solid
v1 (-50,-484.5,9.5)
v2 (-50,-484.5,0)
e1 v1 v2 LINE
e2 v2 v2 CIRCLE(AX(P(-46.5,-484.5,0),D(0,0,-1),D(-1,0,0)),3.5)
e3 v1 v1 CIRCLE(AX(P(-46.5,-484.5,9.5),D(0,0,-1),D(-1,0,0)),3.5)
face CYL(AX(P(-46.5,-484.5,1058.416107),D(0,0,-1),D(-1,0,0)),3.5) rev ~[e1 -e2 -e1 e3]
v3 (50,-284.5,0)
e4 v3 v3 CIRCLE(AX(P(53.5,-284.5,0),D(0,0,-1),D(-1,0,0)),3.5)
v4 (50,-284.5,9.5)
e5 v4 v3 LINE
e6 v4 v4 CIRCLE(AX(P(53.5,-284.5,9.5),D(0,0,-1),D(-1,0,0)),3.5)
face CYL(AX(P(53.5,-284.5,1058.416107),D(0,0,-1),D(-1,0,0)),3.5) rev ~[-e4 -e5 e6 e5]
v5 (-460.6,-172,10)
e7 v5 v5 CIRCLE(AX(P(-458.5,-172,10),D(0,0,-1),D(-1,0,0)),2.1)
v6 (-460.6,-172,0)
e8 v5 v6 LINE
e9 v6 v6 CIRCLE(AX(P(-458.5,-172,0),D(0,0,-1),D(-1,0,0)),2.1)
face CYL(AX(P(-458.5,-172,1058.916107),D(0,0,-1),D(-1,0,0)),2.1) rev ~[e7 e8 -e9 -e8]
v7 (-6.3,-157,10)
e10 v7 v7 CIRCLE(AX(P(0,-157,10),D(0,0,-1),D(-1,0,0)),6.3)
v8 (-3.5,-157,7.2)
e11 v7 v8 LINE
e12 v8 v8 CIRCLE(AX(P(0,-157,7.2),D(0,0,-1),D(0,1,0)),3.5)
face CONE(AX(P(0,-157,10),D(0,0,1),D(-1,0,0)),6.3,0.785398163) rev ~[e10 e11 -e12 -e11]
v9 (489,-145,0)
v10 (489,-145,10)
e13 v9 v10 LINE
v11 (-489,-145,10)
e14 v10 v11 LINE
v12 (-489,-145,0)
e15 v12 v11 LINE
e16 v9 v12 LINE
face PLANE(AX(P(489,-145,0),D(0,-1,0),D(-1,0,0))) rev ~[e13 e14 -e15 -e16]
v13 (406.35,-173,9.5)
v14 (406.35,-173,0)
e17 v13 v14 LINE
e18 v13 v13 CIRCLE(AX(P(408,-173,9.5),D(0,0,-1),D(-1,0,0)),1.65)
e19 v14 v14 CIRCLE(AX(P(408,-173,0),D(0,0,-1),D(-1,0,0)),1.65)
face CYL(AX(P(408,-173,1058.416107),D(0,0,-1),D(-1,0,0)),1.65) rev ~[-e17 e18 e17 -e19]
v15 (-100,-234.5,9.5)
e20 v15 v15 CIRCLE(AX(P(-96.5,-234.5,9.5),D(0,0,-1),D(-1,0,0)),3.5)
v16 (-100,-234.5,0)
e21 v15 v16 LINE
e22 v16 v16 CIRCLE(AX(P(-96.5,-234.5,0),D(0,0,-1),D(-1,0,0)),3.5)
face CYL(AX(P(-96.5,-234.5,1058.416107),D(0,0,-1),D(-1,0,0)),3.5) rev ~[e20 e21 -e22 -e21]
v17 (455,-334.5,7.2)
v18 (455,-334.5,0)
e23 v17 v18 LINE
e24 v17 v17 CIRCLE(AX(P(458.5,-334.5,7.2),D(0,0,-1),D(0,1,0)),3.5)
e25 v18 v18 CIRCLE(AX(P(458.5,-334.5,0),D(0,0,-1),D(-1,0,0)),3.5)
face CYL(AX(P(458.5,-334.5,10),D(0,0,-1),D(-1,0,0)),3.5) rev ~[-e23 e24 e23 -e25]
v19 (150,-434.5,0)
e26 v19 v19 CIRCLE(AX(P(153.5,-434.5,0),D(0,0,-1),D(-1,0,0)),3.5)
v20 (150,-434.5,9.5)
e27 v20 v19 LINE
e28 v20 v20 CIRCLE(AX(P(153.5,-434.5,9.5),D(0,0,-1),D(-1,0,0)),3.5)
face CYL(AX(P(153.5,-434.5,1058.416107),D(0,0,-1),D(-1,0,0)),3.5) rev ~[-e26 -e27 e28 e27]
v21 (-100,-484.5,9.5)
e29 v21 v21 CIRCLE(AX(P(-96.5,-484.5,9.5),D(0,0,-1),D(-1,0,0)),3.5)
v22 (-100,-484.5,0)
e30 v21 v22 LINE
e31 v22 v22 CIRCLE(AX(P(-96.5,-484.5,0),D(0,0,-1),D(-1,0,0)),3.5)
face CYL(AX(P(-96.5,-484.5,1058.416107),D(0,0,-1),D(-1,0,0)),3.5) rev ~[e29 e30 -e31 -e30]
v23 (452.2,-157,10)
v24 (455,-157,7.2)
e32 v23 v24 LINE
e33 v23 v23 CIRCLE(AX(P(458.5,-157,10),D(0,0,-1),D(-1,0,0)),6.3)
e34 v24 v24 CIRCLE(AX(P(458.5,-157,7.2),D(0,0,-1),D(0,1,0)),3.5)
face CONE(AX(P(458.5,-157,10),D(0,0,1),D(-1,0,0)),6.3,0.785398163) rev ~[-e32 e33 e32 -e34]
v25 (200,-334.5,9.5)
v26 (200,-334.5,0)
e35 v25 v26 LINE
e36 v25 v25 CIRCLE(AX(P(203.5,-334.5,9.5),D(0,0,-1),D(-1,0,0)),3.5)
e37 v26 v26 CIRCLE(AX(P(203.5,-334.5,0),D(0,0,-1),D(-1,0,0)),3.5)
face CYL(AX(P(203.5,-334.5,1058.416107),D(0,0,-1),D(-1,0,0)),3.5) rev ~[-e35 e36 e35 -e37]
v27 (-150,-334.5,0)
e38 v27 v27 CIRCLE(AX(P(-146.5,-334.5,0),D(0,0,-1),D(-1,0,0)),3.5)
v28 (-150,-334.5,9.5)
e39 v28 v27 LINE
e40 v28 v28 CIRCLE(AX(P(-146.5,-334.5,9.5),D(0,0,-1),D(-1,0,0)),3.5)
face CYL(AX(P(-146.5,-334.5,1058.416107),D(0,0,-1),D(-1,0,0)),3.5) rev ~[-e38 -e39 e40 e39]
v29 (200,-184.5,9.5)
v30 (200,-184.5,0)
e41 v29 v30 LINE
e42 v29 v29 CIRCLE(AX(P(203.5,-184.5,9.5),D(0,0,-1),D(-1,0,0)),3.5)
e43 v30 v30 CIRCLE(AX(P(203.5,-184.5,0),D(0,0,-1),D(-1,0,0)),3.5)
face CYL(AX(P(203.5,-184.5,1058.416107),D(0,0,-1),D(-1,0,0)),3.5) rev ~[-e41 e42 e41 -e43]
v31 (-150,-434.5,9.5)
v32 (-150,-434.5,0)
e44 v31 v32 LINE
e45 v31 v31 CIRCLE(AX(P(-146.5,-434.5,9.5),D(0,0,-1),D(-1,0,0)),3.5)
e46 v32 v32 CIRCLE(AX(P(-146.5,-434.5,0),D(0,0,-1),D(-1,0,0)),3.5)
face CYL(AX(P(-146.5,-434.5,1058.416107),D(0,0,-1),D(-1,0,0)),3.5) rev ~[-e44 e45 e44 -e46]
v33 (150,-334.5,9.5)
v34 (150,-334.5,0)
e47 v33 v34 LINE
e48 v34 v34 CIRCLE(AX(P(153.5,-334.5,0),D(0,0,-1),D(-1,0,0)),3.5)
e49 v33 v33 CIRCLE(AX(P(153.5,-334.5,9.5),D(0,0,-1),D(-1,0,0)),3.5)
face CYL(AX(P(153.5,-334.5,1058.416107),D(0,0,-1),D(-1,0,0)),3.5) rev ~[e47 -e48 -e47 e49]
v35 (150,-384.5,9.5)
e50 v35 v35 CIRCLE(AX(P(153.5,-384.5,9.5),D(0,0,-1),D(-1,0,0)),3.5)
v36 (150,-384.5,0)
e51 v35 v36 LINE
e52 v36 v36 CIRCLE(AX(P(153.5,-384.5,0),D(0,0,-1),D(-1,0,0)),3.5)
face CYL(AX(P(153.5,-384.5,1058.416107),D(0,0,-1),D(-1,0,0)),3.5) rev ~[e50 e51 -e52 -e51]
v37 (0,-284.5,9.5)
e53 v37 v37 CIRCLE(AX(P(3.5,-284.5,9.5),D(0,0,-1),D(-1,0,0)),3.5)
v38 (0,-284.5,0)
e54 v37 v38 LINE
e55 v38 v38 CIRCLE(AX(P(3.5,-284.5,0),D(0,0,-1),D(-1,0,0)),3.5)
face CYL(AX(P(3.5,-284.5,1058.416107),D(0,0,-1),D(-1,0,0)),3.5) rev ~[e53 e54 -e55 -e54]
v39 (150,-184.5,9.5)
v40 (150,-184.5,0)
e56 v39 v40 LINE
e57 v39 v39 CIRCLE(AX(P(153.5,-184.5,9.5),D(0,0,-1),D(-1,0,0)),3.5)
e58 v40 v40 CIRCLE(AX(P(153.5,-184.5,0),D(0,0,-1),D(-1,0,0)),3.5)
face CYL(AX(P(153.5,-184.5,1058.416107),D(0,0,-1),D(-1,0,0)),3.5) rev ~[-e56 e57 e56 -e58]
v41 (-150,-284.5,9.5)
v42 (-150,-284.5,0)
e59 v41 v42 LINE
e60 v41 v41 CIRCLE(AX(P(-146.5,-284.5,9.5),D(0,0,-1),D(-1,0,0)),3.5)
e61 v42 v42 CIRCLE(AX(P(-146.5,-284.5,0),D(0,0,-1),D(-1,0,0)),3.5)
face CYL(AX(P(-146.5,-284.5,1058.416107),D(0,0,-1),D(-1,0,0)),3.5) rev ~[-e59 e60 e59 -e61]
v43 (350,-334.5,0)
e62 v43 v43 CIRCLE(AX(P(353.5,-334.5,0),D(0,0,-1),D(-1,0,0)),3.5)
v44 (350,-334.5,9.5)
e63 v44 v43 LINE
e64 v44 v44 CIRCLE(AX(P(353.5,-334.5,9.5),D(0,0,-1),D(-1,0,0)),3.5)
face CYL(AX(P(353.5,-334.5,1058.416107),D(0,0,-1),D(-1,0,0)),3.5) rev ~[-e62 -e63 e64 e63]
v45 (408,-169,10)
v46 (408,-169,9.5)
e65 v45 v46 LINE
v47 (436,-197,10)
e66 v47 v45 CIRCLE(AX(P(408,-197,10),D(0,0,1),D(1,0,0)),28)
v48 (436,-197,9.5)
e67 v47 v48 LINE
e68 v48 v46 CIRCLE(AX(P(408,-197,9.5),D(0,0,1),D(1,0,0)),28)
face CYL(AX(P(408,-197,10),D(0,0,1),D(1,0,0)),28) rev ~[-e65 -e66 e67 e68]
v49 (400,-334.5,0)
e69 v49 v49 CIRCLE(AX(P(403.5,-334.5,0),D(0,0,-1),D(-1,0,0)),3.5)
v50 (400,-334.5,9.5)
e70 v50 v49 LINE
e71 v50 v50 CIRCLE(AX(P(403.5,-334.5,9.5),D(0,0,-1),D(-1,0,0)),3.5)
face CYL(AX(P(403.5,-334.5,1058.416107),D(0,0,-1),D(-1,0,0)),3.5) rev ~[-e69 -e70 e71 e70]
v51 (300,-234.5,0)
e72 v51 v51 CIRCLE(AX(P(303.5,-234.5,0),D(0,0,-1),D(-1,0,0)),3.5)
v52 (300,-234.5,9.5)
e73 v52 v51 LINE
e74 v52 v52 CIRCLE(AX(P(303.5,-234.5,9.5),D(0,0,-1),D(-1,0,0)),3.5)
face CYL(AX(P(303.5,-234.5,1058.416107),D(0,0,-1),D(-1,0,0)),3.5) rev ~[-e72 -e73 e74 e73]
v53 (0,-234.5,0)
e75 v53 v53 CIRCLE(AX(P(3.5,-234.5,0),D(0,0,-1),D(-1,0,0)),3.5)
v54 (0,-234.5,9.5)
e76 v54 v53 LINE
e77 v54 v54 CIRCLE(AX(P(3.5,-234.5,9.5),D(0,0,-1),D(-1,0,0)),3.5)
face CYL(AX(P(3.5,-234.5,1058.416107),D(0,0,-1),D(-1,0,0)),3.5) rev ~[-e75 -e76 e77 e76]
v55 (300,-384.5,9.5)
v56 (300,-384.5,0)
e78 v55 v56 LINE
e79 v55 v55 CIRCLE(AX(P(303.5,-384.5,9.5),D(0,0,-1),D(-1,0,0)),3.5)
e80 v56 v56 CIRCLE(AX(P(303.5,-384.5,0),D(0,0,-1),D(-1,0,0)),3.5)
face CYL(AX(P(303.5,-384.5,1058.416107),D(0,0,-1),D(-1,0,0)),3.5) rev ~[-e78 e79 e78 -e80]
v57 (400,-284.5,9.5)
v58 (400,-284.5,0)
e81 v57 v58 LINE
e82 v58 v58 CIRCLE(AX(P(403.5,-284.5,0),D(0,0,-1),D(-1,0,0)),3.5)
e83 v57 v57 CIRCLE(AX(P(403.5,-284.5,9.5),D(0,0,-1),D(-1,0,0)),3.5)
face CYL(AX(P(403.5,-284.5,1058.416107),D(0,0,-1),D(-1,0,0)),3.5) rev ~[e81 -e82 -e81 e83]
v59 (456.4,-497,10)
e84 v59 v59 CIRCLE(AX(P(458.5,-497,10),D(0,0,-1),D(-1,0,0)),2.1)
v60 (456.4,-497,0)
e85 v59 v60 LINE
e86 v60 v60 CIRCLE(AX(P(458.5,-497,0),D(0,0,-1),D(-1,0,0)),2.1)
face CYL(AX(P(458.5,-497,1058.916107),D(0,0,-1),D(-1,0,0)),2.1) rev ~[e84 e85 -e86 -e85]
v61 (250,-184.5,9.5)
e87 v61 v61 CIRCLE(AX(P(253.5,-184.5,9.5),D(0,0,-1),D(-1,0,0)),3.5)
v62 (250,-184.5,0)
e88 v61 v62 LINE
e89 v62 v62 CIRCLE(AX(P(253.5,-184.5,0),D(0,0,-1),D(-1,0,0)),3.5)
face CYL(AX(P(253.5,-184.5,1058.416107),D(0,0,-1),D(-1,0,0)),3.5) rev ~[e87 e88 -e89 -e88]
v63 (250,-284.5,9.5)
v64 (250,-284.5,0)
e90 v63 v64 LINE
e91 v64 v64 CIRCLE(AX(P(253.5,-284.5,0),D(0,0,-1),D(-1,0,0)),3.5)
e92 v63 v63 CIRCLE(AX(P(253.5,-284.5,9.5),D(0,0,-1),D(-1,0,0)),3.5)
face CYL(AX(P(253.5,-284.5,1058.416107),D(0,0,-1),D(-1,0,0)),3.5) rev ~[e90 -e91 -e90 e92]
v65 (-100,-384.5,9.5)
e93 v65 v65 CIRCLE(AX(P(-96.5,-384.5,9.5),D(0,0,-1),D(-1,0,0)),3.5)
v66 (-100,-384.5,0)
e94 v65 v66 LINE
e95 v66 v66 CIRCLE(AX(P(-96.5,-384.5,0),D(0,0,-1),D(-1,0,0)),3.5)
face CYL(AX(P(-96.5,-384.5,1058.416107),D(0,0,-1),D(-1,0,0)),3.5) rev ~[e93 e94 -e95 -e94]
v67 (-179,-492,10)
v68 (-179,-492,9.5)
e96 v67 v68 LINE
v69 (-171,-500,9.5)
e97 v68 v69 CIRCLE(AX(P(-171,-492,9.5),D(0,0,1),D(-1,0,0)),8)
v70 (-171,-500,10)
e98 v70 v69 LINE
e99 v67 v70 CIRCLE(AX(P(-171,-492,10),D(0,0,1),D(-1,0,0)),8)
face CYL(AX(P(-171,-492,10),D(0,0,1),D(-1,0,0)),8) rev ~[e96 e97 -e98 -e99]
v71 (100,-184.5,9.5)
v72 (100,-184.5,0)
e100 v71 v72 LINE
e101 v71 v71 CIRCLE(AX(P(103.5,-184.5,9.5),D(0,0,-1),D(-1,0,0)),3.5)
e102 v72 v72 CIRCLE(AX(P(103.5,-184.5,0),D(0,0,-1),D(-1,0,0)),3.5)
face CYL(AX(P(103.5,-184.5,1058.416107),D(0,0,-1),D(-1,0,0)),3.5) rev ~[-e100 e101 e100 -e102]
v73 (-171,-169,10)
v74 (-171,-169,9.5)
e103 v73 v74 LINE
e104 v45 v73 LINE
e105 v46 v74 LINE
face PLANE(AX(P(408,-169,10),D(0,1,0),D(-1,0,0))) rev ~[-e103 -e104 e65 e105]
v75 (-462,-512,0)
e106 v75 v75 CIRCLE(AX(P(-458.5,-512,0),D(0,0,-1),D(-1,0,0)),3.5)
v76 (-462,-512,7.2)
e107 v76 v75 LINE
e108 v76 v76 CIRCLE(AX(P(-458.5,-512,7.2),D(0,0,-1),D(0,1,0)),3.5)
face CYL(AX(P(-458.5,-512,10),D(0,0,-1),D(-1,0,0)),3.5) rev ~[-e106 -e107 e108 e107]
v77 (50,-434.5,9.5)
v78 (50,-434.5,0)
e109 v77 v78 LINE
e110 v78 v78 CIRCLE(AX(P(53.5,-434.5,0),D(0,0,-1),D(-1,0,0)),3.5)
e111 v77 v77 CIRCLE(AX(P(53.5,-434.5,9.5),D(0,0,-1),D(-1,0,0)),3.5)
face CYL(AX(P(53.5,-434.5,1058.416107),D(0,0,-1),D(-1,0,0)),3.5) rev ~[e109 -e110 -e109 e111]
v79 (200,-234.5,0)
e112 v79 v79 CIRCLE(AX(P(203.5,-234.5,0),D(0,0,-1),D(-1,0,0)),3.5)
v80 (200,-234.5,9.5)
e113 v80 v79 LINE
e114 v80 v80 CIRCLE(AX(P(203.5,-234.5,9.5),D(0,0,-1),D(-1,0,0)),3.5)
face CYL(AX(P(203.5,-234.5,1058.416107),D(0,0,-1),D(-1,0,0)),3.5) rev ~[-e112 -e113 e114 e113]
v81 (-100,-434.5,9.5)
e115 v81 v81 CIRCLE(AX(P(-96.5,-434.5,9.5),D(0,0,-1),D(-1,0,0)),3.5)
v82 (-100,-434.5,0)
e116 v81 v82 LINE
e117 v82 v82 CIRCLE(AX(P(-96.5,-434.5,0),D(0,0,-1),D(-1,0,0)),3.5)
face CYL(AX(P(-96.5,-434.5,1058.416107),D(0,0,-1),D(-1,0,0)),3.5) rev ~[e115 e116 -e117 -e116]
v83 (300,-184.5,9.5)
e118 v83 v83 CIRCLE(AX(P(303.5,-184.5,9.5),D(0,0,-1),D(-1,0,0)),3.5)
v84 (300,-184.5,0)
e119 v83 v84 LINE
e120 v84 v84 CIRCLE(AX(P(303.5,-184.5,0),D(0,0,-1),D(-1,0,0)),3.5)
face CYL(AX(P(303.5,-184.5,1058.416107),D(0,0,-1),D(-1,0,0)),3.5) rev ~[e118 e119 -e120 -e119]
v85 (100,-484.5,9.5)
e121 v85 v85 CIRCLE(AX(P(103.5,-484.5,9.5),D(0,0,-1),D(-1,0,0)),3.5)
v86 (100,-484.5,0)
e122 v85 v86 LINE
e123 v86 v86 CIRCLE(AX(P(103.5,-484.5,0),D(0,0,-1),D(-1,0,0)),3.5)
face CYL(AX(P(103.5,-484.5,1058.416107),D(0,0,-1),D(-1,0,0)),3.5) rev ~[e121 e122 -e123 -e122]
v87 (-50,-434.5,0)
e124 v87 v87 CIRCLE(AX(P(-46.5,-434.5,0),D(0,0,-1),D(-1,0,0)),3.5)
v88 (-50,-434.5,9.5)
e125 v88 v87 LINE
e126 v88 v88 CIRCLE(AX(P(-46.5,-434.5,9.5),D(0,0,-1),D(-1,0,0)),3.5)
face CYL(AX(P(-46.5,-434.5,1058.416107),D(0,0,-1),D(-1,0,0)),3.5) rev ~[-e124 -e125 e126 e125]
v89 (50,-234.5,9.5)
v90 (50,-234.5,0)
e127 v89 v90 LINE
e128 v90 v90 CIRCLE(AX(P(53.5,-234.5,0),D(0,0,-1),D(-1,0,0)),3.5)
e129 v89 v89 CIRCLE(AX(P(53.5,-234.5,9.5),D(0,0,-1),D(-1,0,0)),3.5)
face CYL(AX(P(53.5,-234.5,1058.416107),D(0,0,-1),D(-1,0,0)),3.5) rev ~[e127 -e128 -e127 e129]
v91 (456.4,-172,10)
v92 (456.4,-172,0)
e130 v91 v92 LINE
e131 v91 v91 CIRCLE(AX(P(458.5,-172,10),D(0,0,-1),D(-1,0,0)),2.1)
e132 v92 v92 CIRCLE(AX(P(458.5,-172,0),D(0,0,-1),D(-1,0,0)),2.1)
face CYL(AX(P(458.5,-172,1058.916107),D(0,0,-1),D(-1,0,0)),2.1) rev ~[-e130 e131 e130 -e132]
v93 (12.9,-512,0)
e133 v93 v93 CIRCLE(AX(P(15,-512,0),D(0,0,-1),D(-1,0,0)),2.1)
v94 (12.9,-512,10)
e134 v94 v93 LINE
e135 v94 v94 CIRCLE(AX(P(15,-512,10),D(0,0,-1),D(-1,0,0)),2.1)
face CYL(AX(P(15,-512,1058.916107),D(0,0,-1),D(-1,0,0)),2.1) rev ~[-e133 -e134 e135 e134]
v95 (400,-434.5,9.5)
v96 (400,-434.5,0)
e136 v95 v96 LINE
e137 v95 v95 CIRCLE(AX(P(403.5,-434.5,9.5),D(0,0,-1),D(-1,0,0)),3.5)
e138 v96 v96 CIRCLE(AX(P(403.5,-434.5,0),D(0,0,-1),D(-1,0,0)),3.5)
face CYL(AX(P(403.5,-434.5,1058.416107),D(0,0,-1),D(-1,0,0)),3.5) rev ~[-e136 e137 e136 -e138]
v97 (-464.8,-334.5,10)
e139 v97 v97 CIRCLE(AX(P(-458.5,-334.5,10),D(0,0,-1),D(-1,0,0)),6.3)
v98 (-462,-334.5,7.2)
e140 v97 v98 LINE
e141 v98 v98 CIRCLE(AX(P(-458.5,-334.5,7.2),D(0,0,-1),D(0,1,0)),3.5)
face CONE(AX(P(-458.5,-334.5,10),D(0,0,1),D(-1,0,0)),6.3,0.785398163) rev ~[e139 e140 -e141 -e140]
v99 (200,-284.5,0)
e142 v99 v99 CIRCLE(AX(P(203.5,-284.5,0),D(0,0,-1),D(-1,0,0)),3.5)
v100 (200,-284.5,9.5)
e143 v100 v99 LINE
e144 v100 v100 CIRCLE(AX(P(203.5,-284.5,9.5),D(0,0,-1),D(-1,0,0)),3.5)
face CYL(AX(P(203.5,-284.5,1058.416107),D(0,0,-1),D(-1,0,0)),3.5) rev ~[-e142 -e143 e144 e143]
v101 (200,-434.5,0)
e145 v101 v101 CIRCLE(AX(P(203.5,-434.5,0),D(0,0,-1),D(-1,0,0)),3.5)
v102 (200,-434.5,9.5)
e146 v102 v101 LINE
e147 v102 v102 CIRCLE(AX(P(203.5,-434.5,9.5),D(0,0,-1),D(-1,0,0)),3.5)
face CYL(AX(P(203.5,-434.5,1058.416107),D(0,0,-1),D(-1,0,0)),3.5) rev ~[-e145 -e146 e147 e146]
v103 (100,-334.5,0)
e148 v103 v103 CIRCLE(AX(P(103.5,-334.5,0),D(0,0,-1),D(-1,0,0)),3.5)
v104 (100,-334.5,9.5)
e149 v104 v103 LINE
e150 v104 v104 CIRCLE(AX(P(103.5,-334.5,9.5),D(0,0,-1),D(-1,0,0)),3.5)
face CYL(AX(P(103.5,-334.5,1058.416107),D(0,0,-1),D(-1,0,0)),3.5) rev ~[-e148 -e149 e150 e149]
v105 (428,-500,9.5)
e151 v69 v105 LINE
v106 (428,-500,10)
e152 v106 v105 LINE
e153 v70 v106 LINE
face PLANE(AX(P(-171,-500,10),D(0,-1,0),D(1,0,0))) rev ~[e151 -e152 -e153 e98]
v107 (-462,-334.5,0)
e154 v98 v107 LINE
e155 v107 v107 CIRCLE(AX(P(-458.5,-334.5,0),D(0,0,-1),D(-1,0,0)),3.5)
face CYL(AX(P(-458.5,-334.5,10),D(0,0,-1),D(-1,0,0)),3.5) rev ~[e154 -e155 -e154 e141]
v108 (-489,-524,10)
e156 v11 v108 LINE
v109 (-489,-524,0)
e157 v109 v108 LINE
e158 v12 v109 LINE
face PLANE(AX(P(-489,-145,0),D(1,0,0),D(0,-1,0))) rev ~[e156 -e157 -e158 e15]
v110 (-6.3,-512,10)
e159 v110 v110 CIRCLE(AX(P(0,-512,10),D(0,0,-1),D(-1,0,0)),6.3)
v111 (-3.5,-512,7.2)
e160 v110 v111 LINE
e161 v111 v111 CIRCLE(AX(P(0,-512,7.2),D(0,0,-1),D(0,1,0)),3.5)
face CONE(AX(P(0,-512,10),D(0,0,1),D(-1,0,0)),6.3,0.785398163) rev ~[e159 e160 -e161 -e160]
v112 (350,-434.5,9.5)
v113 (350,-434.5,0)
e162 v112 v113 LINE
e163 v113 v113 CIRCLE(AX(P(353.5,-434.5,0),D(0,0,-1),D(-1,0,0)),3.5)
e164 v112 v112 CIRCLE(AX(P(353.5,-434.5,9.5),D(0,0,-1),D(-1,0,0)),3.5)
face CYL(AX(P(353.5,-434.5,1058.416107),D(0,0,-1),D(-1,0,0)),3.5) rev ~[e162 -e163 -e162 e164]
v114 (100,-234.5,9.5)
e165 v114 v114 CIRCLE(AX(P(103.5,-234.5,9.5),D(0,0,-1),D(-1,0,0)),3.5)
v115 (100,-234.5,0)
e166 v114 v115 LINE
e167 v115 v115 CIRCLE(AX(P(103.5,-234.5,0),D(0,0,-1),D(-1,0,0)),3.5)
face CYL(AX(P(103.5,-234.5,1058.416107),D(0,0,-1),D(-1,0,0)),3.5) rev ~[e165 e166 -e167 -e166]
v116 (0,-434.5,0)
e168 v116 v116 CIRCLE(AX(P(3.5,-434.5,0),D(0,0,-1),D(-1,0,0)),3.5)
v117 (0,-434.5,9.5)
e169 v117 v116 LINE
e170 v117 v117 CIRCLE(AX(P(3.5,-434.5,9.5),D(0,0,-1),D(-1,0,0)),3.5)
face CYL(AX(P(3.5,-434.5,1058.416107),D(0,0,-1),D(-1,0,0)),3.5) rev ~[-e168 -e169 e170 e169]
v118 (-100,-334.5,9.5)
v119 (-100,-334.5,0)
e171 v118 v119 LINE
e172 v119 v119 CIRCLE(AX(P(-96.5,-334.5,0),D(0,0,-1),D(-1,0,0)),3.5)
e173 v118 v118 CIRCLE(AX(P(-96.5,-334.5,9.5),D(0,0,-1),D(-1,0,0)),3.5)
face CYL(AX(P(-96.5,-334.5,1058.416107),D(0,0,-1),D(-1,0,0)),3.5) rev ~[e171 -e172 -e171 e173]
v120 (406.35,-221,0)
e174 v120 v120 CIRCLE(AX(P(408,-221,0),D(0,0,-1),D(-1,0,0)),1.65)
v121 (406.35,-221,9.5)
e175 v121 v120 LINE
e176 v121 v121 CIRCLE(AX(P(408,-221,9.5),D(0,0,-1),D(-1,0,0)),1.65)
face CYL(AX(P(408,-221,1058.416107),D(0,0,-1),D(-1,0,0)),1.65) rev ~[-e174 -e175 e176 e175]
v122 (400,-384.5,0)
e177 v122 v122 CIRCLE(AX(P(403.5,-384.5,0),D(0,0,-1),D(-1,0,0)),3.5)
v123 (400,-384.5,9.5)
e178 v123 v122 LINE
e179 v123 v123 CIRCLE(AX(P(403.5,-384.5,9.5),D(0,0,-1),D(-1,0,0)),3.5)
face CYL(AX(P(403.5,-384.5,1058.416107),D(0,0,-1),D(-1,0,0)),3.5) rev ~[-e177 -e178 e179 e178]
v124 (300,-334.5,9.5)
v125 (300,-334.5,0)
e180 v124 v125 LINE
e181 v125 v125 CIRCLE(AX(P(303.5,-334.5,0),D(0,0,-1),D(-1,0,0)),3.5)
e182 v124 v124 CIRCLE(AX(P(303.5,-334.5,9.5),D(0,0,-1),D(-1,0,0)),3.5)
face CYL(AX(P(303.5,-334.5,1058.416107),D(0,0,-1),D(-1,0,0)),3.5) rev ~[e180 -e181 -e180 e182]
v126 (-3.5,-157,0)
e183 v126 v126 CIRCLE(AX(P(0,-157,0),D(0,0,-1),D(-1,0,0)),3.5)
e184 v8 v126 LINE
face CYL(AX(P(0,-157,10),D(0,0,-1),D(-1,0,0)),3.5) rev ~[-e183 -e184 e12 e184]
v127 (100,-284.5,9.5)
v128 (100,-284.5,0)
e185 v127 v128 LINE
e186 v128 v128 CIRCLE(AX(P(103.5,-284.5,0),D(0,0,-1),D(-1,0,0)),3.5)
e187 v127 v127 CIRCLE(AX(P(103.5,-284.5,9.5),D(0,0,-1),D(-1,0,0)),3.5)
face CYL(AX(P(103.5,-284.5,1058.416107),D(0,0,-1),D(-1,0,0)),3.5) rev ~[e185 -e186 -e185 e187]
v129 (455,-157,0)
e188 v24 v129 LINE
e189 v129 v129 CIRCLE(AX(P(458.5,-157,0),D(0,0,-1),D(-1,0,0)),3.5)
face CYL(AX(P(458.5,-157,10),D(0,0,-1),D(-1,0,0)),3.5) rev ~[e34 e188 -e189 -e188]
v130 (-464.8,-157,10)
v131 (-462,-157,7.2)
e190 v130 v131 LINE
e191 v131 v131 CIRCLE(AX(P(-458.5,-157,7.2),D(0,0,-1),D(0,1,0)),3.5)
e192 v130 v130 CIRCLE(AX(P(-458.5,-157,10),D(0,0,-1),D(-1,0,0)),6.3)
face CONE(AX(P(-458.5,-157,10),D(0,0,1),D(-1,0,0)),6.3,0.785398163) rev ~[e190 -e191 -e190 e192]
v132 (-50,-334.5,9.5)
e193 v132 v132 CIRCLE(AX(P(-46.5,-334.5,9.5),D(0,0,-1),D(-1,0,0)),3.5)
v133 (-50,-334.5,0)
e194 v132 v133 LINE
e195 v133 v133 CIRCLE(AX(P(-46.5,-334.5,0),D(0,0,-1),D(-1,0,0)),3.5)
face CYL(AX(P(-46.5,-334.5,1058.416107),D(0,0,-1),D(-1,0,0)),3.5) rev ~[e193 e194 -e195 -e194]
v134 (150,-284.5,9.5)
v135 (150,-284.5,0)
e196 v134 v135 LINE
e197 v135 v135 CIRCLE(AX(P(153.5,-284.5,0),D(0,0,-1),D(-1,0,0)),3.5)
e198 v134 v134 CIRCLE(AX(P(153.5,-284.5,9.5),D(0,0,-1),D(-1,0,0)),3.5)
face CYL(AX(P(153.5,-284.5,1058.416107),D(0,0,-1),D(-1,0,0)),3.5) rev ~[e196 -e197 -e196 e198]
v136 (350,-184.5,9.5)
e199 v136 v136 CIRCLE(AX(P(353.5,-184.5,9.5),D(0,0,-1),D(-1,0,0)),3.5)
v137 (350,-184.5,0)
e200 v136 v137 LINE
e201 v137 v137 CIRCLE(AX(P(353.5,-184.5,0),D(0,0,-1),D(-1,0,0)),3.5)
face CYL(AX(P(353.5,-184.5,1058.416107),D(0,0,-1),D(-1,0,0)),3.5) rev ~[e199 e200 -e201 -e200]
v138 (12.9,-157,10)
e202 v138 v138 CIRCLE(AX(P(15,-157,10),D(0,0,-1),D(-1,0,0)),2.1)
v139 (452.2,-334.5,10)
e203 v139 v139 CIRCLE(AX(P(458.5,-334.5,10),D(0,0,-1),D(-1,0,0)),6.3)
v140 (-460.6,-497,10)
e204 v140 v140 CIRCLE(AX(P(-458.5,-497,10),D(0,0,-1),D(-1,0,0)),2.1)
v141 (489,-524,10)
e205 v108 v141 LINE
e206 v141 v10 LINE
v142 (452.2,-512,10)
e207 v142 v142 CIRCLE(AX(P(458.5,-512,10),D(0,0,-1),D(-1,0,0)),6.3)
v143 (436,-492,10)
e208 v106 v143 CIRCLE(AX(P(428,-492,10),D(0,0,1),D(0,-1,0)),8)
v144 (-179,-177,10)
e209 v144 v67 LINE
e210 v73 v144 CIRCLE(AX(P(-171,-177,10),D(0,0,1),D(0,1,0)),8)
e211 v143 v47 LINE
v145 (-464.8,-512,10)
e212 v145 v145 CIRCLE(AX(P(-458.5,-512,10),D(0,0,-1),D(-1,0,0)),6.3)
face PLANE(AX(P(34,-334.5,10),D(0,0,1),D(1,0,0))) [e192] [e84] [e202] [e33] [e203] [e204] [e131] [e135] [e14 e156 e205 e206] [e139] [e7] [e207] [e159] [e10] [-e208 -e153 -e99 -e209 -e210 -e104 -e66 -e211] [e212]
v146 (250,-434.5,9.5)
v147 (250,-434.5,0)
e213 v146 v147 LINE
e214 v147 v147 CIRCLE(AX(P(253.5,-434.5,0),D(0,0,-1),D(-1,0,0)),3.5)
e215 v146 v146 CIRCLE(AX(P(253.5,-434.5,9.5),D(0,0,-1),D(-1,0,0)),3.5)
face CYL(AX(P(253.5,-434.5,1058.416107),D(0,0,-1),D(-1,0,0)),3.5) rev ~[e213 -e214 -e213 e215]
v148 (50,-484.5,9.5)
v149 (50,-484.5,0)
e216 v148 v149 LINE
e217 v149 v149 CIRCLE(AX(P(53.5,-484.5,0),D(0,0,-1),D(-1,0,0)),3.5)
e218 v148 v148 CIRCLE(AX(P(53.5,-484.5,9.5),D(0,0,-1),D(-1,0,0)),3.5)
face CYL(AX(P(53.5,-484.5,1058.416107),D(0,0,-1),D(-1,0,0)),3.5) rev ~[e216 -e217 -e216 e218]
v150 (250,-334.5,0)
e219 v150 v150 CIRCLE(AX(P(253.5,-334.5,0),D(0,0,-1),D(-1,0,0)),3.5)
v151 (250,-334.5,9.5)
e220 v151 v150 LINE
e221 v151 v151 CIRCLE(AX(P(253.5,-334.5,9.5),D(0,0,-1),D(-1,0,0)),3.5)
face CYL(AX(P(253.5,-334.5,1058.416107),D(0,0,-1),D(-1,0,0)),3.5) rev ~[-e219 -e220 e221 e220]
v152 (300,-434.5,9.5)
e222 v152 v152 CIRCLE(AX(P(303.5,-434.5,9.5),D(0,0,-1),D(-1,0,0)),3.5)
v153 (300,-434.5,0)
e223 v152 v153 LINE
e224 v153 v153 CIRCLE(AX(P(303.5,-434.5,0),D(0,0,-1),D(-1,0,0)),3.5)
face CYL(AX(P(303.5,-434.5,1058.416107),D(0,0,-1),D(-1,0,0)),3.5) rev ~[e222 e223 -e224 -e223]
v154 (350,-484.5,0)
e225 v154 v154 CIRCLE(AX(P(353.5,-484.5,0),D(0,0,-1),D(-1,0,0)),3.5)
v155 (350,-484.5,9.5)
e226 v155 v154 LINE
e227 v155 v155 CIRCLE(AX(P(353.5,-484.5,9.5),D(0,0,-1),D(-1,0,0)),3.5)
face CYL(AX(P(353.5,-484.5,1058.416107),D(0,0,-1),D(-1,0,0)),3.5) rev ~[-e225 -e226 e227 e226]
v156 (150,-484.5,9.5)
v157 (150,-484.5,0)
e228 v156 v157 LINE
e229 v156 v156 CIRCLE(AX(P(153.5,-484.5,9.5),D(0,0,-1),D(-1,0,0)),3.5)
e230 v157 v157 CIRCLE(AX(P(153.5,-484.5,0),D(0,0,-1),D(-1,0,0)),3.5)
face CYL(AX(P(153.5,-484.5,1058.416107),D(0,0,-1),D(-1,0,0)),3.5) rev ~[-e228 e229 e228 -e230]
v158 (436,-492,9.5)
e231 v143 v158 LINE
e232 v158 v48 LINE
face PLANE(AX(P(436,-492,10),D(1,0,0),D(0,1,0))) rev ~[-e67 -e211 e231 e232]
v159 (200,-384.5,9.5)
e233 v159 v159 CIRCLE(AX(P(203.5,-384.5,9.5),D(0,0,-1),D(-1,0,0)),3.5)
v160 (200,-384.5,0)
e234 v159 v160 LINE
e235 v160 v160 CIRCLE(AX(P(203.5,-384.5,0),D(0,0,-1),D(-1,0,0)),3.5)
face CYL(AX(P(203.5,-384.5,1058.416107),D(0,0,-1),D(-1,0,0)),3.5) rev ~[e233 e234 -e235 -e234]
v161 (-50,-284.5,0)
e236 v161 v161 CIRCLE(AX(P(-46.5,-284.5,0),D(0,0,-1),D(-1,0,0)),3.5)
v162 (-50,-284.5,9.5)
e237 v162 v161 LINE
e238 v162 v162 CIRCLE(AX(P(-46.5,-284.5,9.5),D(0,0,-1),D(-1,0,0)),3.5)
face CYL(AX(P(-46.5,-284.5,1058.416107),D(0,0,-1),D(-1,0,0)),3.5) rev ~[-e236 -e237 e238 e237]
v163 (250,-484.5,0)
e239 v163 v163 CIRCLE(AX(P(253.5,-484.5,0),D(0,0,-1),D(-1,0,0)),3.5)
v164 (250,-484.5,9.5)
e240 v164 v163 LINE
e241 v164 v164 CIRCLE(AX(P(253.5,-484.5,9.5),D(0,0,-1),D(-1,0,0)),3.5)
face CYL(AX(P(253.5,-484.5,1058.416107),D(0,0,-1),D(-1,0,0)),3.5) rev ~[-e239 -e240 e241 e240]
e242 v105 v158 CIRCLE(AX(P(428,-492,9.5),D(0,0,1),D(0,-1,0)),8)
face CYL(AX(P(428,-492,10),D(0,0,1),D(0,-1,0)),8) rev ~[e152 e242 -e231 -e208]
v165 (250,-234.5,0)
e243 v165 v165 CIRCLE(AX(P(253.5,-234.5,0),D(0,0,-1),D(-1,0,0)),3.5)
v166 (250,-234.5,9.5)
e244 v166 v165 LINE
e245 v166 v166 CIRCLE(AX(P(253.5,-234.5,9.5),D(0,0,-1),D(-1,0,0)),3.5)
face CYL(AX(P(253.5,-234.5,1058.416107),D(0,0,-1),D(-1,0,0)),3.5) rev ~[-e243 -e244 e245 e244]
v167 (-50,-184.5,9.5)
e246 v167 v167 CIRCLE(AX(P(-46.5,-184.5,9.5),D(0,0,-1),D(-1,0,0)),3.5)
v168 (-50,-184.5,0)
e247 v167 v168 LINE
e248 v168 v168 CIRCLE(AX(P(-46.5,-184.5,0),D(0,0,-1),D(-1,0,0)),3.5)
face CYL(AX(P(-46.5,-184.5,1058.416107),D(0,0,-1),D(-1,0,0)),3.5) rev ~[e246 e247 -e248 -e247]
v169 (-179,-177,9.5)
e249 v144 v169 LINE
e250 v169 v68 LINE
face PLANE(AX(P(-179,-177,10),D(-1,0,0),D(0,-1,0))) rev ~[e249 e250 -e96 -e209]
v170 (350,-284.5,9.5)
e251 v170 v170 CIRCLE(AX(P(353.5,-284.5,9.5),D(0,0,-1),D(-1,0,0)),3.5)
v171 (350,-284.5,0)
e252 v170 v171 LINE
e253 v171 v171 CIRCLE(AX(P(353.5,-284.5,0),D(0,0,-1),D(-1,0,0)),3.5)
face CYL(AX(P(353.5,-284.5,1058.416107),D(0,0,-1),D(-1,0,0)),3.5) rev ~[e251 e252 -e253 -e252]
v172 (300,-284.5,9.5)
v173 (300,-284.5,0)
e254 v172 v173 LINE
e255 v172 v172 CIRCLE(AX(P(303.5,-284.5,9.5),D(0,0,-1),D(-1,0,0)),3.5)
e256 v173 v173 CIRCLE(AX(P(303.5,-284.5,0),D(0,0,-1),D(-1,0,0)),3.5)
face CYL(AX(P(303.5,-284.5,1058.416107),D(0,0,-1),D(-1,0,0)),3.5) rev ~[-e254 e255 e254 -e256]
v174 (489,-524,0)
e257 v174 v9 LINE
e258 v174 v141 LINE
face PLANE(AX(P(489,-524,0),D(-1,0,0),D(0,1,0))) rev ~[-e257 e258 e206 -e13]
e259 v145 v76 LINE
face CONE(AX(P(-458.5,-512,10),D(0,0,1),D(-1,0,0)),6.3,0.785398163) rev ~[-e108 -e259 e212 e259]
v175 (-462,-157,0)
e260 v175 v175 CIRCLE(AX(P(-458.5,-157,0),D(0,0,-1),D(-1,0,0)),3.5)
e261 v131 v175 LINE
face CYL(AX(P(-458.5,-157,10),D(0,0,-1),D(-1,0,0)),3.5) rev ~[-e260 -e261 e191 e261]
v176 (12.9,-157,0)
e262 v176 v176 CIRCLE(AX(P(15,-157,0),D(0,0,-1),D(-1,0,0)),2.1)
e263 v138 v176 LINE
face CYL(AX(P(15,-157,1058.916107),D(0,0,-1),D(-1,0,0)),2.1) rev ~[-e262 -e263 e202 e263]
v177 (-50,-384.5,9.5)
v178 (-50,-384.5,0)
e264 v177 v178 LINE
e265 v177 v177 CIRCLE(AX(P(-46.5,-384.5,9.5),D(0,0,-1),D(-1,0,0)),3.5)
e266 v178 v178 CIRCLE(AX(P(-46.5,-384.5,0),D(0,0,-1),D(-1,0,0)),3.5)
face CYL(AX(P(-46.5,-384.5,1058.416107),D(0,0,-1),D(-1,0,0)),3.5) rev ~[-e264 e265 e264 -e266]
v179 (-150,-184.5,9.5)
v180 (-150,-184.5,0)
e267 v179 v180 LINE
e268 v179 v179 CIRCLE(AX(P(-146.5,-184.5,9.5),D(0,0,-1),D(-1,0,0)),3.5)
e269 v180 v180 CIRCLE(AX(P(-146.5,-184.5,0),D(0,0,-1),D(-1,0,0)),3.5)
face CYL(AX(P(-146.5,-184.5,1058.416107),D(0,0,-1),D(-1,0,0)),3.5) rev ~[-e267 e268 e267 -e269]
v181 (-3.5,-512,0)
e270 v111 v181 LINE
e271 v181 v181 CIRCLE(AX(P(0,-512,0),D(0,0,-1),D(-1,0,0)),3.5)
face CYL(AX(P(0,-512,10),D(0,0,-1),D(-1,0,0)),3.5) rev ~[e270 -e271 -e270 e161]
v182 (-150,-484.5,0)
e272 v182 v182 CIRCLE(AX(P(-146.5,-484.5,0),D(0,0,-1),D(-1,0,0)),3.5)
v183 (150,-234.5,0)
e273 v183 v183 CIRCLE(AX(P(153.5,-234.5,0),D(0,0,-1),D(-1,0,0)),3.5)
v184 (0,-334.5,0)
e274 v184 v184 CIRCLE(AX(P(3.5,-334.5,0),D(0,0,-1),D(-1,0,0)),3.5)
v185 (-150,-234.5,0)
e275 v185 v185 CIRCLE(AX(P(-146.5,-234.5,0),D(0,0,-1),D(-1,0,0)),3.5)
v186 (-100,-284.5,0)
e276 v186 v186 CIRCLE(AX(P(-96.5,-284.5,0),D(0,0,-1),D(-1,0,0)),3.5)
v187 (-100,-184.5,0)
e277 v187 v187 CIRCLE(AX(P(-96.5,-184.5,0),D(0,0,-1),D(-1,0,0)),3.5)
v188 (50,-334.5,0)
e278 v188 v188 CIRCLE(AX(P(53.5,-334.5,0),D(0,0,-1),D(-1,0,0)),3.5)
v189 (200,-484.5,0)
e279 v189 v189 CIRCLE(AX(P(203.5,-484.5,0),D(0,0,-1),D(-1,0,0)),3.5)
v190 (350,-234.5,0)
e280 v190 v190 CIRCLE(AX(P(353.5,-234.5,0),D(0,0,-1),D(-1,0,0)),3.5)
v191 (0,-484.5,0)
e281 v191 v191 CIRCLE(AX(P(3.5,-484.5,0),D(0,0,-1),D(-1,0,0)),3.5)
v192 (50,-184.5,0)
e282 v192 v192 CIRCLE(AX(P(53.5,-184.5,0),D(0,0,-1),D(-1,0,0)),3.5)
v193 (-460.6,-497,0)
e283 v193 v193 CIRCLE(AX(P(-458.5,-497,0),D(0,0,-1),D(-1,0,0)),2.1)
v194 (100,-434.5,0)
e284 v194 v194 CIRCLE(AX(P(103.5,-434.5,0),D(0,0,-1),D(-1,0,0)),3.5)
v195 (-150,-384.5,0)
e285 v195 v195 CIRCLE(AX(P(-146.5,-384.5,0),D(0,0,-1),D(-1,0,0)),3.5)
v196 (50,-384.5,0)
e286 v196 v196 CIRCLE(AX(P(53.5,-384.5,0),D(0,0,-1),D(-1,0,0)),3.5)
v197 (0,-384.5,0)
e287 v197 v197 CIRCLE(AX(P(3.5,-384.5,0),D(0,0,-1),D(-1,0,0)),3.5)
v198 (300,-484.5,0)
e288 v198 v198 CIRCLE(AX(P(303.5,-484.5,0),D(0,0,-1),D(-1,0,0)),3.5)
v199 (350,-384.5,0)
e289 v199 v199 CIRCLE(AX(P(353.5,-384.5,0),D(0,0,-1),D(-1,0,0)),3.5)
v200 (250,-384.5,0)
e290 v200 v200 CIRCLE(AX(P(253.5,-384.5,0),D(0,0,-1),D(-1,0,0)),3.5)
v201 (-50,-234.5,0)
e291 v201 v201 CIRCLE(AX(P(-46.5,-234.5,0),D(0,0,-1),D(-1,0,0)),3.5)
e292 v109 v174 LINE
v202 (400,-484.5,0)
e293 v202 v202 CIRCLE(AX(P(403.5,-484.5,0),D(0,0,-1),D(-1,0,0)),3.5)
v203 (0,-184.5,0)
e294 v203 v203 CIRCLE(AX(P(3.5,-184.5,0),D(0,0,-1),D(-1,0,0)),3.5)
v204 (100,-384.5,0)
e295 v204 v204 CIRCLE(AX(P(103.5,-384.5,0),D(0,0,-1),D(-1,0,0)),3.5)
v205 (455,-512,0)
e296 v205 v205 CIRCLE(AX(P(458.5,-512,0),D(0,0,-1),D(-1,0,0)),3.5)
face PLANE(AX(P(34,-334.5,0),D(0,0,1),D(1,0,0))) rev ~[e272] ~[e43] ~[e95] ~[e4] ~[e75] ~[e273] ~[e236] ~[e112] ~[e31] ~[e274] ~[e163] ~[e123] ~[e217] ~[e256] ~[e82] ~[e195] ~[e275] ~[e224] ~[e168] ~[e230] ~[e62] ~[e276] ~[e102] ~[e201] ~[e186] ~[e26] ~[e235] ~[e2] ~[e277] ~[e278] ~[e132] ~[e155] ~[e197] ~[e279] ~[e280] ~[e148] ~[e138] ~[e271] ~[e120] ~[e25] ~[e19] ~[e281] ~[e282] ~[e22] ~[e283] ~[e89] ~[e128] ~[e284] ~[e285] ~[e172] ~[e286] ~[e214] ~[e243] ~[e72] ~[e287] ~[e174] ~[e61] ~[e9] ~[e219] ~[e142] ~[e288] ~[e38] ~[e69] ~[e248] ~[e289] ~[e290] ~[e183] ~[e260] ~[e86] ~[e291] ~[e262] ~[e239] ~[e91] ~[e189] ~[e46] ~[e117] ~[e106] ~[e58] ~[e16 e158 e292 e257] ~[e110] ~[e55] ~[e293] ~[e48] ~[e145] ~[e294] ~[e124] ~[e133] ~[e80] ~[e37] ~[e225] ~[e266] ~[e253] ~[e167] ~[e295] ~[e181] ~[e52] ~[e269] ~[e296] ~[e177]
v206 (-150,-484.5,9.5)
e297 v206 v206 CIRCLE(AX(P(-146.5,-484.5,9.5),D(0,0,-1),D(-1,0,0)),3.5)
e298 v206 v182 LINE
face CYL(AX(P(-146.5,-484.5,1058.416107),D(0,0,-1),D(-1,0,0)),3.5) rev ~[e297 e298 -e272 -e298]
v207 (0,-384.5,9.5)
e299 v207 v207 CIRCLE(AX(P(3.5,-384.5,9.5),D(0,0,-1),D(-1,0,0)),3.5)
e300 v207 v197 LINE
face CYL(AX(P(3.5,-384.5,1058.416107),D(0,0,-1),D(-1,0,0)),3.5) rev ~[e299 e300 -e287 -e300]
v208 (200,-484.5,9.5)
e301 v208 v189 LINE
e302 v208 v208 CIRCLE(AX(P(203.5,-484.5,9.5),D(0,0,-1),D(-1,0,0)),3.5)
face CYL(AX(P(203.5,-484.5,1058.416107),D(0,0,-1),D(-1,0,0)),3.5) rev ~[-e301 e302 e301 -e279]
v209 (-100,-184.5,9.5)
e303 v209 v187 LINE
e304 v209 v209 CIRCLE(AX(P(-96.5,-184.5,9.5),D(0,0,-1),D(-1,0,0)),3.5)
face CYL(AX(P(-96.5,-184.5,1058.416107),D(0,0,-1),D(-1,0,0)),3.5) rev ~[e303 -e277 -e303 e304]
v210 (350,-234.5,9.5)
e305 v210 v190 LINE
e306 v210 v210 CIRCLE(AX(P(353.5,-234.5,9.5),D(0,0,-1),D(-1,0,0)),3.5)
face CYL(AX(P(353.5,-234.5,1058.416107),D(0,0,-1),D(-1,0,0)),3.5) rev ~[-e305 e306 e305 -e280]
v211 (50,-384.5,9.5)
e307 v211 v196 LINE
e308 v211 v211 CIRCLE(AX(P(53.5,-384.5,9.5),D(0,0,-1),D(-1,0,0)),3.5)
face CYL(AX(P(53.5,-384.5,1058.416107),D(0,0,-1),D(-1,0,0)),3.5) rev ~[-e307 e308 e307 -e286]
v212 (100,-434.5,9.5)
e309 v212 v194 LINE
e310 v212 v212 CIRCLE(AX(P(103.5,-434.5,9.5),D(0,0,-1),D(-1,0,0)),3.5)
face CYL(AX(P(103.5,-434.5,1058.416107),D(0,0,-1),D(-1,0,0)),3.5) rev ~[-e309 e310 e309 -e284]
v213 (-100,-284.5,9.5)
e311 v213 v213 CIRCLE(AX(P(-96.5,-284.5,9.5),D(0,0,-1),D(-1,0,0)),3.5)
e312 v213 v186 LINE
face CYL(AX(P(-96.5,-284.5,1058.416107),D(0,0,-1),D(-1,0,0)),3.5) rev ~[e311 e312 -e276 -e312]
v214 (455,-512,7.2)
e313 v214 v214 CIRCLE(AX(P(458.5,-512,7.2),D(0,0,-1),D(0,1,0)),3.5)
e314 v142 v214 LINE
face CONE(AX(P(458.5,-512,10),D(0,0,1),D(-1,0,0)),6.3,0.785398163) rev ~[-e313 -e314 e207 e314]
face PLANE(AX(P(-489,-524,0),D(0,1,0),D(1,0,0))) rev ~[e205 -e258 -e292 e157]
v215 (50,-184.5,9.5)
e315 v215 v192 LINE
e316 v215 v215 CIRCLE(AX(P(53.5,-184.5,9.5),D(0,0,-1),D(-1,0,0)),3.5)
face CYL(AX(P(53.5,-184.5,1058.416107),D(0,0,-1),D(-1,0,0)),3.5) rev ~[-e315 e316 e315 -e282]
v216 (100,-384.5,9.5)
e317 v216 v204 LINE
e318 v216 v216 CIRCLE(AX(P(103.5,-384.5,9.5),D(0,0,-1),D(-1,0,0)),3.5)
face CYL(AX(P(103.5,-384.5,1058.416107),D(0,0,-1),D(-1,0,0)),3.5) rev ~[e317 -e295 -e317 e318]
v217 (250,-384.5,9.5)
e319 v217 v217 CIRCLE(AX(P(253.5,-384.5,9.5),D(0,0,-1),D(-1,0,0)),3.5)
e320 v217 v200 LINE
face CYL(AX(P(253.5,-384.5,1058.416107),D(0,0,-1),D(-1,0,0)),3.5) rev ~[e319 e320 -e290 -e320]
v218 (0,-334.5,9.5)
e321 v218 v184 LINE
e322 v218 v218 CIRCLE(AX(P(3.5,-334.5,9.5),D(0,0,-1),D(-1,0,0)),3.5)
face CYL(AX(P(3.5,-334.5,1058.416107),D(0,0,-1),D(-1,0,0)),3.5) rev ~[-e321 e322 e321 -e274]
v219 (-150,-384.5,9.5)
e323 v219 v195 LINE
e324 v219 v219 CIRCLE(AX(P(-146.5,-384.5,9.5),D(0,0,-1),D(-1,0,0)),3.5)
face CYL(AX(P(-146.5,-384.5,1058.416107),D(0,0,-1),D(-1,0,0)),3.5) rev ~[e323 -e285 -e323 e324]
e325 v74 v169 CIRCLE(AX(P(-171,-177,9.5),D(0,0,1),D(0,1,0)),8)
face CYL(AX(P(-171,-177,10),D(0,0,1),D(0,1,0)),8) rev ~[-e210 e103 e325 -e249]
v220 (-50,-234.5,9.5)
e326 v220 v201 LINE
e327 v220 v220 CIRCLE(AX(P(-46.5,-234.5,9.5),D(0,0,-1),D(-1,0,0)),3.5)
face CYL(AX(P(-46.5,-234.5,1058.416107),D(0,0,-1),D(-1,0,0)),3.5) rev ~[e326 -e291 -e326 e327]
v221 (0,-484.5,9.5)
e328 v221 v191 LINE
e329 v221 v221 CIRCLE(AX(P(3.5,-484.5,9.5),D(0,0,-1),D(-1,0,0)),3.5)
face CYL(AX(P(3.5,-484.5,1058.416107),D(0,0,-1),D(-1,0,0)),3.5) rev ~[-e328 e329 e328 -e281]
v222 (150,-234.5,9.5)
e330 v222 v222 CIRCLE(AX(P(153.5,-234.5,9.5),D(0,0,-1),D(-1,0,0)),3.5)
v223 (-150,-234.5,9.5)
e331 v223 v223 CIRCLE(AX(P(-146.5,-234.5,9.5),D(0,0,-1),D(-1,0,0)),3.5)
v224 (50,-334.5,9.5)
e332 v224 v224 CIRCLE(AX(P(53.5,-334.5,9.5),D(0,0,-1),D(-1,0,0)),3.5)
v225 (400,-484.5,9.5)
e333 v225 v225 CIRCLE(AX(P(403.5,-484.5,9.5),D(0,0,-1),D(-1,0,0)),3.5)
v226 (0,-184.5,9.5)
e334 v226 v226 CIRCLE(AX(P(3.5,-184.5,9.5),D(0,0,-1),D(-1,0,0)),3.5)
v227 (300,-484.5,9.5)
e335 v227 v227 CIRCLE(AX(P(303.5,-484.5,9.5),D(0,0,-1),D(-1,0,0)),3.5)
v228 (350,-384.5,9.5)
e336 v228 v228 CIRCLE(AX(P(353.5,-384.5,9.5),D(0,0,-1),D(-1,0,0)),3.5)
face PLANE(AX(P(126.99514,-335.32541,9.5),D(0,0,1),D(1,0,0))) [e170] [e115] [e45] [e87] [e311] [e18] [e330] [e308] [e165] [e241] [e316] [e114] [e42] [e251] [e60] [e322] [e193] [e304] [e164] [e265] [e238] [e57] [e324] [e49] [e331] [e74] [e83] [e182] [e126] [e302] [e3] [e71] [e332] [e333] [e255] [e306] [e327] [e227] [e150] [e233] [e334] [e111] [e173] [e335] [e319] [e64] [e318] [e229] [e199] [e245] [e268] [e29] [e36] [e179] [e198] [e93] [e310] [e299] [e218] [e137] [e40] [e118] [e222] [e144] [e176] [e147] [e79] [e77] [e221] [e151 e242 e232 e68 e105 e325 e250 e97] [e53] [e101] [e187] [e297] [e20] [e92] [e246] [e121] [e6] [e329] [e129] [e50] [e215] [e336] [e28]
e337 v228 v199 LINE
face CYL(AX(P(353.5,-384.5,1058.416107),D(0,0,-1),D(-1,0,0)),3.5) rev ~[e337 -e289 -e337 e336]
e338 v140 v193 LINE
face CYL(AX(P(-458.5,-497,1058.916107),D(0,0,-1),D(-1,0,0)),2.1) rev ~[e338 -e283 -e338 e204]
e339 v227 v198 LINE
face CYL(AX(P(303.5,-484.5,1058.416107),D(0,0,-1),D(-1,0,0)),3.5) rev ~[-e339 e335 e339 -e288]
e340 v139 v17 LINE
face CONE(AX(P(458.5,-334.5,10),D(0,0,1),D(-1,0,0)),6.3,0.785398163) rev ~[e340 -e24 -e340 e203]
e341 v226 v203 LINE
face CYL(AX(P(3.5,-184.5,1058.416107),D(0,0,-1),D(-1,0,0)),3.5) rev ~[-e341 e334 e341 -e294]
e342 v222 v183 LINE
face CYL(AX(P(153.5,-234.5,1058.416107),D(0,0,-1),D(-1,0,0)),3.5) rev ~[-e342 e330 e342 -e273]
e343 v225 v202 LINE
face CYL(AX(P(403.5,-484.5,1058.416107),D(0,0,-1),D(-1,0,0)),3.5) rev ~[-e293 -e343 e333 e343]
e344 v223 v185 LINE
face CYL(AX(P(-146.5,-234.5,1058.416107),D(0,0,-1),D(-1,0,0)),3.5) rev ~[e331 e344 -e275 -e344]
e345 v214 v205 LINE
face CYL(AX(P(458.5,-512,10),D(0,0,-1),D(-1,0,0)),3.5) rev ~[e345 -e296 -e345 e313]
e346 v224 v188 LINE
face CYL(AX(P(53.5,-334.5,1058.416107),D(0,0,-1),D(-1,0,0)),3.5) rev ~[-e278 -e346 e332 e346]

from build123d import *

# Parameters (mm, degrees)
BOSS_EXTRUDE1_DEPTH                             = 10
CSK_FOR_M6_FLAT_HEAD_MACHINE_SCREW1_D           = 7
CSK_FOR_M6_FLAT_HEAD_MACHINE_SCREW1_CSINK_D     = 12.6
CSK_FOR_M6_FLAT_HEAD_MACHINE_SCREW1_CSINK_ANGLE = 90
CUT_EXTRUDE1_DEPTH                              = 0.5
M4X0_7_TAPPED_HOLE1_D                           = 3.3
M8X1_0_TAPPED_HOLE1_D                           = 7
LPATTERN1_COUNT                                 = 11
LPATTERN1_PITCH                                 = 50
LPATTERN1_COUNT_DIR2                            = 2
LPATTERN1_PITCH_DIR2                            = 50
M8X1_0_TAPPED_HOLE2_D                           = 7
LPATTERN2_COUNT                                 = 12
LPATTERN2_PITCH                                 = 50
LPATTERN2_COUNT_DIR2                            = 5
LPATTERN2_PITCH_DIR2                            = 50
M5X0_8_TAPPED_HOLE1_D                           = 4.2


with BuildPart() as part:
    # Sketch1 → Boss-Extrude1 (new body)
    with BuildSketch(Plane.XY):
        Polygon((-421, -145), (-421, -524), (-171, -524), (428, -524), (489, -524), (489, -492), (489, -177), (489, -145), (428, -145), (-171, -145), align=None)
        Polygon((-489, -177), (-489, -492), (-489, -524), (-421, -524), (-421, -145), (-489, -145), align=None)
    extrude(amount=BOSS_EXTRUDE1_DEPTH)

    # CSK for M6 Flat Head Machine Screw1 (through all)
    with Locations(Plane(origin=(458.5, -157, 10), x_dir=(1, 0, 0), z_dir=(0, 0, 1))):
        with Locations((0, 0), (0, -177.5), (0, -355), (-917, 0), (-917, -177.5), (-917, -355), (-458.5, 0), (-458.5, -355)):
            CounterSinkHole(CSK_FOR_M6_FLAT_HEAD_MACHINE_SCREW1_D / 2, CSK_FOR_M6_FLAT_HEAD_MACHINE_SCREW1_CSINK_D / 2, counter_sink_angle=CSK_FOR_M6_FLAT_HEAD_MACHINE_SCREW1_CSINK_ANGLE)

    # Sketch7 → Cut-Extrude1 (cut)
    with BuildSketch(Plane.XY.offset(10)):
        with BuildLine():
            Line((-179, -177), (-179, -492))
            ThreePointArc((-179, -492), (-176.656854249, -497.656854249), (-171, -500))
            Line((-171, -500), (428, -500))
            ThreePointArc((428, -500), (433.656854249, -497.656854249), (436, -492))
            Line((436, -492), (436, -197))
            ThreePointArc((436, -197), (427.798989873, -177.201010127), (408, -169))
            Line((408, -169), (-171, -169))
            ThreePointArc((-171, -169), (-176.656854249, -171.343145751), (-179, -177))
        make_face()
    extrude(amount=-CUT_EXTRUDE1_DEPTH, mode=Mode.SUBTRACT)

    # M4x0.7 Tapped Hole1 (through all)
    with Locations(Plane(origin=(408, -173, 9.5), x_dir=(1, 0, 0), z_dir=(0, 0, 1))):
        with Locations((0, 0), (0, -48)):
            Hole(M4X0_7_TAPPED_HOLE1_D / 2)

    # M8x1.0 Tapped Hole1 (through all)
    with Locations(Plane(origin=(-146.5, -184.5, 9.5), x_dir=(1, 0, 0), z_dir=(0, 0, 1))):
        with Locations((0, 0)):
            m8x1_0_tapped_hole1 = Hole(M8X1_0_TAPPED_HOLE1_D / 2)

    # LPattern1: M8x1.0 Tapped Hole1 11 × 2
    with Locations(*[(i * LPATTERN1_PITCH, -j * LPATTERN1_PITCH_DIR2, 0) for i in range(LPATTERN1_COUNT) for j in range(LPATTERN1_COUNT_DIR2) if (i, j) != (0, 0)]):
        add(m8x1_0_tapped_hole1, mode=Mode.SUBTRACT)

    # M8x1.0 Tapped Hole2 (through all)
    with Locations(Plane(origin=(-146.5, -484.5, 9.5), x_dir=(1, 0, 0), z_dir=(0, 0, 1))):
        with Locations((0, 0)):
            m8x1_0_tapped_hole2 = Hole(M8X1_0_TAPPED_HOLE2_D / 2)

    # LPattern2: M8x1.0 Tapped Hole2 12 × 5
    with Locations(*[(i * LPATTERN2_PITCH, j * LPATTERN2_PITCH_DIR2, 0) for i in range(LPATTERN2_COUNT) for j in range(LPATTERN2_COUNT_DIR2) if (i, j) != (0, 0)]):
        add(m8x1_0_tapped_hole2, mode=Mode.SUBTRACT)

    # M5x0.8 Tapped Hole1 (through all)
    with Locations(Plane(origin=(-458.5, -497, 10), x_dir=(1, 0, 0), z_dir=(0, 0, 1))):
        with Locations((0, 0), (0, 325), (917, 325), (917, 0), (473.5, 340), (473.5, -15)):
            Hole(M5X0_8_TAPPED_HOLE1_D / 2)


solid = part.part
